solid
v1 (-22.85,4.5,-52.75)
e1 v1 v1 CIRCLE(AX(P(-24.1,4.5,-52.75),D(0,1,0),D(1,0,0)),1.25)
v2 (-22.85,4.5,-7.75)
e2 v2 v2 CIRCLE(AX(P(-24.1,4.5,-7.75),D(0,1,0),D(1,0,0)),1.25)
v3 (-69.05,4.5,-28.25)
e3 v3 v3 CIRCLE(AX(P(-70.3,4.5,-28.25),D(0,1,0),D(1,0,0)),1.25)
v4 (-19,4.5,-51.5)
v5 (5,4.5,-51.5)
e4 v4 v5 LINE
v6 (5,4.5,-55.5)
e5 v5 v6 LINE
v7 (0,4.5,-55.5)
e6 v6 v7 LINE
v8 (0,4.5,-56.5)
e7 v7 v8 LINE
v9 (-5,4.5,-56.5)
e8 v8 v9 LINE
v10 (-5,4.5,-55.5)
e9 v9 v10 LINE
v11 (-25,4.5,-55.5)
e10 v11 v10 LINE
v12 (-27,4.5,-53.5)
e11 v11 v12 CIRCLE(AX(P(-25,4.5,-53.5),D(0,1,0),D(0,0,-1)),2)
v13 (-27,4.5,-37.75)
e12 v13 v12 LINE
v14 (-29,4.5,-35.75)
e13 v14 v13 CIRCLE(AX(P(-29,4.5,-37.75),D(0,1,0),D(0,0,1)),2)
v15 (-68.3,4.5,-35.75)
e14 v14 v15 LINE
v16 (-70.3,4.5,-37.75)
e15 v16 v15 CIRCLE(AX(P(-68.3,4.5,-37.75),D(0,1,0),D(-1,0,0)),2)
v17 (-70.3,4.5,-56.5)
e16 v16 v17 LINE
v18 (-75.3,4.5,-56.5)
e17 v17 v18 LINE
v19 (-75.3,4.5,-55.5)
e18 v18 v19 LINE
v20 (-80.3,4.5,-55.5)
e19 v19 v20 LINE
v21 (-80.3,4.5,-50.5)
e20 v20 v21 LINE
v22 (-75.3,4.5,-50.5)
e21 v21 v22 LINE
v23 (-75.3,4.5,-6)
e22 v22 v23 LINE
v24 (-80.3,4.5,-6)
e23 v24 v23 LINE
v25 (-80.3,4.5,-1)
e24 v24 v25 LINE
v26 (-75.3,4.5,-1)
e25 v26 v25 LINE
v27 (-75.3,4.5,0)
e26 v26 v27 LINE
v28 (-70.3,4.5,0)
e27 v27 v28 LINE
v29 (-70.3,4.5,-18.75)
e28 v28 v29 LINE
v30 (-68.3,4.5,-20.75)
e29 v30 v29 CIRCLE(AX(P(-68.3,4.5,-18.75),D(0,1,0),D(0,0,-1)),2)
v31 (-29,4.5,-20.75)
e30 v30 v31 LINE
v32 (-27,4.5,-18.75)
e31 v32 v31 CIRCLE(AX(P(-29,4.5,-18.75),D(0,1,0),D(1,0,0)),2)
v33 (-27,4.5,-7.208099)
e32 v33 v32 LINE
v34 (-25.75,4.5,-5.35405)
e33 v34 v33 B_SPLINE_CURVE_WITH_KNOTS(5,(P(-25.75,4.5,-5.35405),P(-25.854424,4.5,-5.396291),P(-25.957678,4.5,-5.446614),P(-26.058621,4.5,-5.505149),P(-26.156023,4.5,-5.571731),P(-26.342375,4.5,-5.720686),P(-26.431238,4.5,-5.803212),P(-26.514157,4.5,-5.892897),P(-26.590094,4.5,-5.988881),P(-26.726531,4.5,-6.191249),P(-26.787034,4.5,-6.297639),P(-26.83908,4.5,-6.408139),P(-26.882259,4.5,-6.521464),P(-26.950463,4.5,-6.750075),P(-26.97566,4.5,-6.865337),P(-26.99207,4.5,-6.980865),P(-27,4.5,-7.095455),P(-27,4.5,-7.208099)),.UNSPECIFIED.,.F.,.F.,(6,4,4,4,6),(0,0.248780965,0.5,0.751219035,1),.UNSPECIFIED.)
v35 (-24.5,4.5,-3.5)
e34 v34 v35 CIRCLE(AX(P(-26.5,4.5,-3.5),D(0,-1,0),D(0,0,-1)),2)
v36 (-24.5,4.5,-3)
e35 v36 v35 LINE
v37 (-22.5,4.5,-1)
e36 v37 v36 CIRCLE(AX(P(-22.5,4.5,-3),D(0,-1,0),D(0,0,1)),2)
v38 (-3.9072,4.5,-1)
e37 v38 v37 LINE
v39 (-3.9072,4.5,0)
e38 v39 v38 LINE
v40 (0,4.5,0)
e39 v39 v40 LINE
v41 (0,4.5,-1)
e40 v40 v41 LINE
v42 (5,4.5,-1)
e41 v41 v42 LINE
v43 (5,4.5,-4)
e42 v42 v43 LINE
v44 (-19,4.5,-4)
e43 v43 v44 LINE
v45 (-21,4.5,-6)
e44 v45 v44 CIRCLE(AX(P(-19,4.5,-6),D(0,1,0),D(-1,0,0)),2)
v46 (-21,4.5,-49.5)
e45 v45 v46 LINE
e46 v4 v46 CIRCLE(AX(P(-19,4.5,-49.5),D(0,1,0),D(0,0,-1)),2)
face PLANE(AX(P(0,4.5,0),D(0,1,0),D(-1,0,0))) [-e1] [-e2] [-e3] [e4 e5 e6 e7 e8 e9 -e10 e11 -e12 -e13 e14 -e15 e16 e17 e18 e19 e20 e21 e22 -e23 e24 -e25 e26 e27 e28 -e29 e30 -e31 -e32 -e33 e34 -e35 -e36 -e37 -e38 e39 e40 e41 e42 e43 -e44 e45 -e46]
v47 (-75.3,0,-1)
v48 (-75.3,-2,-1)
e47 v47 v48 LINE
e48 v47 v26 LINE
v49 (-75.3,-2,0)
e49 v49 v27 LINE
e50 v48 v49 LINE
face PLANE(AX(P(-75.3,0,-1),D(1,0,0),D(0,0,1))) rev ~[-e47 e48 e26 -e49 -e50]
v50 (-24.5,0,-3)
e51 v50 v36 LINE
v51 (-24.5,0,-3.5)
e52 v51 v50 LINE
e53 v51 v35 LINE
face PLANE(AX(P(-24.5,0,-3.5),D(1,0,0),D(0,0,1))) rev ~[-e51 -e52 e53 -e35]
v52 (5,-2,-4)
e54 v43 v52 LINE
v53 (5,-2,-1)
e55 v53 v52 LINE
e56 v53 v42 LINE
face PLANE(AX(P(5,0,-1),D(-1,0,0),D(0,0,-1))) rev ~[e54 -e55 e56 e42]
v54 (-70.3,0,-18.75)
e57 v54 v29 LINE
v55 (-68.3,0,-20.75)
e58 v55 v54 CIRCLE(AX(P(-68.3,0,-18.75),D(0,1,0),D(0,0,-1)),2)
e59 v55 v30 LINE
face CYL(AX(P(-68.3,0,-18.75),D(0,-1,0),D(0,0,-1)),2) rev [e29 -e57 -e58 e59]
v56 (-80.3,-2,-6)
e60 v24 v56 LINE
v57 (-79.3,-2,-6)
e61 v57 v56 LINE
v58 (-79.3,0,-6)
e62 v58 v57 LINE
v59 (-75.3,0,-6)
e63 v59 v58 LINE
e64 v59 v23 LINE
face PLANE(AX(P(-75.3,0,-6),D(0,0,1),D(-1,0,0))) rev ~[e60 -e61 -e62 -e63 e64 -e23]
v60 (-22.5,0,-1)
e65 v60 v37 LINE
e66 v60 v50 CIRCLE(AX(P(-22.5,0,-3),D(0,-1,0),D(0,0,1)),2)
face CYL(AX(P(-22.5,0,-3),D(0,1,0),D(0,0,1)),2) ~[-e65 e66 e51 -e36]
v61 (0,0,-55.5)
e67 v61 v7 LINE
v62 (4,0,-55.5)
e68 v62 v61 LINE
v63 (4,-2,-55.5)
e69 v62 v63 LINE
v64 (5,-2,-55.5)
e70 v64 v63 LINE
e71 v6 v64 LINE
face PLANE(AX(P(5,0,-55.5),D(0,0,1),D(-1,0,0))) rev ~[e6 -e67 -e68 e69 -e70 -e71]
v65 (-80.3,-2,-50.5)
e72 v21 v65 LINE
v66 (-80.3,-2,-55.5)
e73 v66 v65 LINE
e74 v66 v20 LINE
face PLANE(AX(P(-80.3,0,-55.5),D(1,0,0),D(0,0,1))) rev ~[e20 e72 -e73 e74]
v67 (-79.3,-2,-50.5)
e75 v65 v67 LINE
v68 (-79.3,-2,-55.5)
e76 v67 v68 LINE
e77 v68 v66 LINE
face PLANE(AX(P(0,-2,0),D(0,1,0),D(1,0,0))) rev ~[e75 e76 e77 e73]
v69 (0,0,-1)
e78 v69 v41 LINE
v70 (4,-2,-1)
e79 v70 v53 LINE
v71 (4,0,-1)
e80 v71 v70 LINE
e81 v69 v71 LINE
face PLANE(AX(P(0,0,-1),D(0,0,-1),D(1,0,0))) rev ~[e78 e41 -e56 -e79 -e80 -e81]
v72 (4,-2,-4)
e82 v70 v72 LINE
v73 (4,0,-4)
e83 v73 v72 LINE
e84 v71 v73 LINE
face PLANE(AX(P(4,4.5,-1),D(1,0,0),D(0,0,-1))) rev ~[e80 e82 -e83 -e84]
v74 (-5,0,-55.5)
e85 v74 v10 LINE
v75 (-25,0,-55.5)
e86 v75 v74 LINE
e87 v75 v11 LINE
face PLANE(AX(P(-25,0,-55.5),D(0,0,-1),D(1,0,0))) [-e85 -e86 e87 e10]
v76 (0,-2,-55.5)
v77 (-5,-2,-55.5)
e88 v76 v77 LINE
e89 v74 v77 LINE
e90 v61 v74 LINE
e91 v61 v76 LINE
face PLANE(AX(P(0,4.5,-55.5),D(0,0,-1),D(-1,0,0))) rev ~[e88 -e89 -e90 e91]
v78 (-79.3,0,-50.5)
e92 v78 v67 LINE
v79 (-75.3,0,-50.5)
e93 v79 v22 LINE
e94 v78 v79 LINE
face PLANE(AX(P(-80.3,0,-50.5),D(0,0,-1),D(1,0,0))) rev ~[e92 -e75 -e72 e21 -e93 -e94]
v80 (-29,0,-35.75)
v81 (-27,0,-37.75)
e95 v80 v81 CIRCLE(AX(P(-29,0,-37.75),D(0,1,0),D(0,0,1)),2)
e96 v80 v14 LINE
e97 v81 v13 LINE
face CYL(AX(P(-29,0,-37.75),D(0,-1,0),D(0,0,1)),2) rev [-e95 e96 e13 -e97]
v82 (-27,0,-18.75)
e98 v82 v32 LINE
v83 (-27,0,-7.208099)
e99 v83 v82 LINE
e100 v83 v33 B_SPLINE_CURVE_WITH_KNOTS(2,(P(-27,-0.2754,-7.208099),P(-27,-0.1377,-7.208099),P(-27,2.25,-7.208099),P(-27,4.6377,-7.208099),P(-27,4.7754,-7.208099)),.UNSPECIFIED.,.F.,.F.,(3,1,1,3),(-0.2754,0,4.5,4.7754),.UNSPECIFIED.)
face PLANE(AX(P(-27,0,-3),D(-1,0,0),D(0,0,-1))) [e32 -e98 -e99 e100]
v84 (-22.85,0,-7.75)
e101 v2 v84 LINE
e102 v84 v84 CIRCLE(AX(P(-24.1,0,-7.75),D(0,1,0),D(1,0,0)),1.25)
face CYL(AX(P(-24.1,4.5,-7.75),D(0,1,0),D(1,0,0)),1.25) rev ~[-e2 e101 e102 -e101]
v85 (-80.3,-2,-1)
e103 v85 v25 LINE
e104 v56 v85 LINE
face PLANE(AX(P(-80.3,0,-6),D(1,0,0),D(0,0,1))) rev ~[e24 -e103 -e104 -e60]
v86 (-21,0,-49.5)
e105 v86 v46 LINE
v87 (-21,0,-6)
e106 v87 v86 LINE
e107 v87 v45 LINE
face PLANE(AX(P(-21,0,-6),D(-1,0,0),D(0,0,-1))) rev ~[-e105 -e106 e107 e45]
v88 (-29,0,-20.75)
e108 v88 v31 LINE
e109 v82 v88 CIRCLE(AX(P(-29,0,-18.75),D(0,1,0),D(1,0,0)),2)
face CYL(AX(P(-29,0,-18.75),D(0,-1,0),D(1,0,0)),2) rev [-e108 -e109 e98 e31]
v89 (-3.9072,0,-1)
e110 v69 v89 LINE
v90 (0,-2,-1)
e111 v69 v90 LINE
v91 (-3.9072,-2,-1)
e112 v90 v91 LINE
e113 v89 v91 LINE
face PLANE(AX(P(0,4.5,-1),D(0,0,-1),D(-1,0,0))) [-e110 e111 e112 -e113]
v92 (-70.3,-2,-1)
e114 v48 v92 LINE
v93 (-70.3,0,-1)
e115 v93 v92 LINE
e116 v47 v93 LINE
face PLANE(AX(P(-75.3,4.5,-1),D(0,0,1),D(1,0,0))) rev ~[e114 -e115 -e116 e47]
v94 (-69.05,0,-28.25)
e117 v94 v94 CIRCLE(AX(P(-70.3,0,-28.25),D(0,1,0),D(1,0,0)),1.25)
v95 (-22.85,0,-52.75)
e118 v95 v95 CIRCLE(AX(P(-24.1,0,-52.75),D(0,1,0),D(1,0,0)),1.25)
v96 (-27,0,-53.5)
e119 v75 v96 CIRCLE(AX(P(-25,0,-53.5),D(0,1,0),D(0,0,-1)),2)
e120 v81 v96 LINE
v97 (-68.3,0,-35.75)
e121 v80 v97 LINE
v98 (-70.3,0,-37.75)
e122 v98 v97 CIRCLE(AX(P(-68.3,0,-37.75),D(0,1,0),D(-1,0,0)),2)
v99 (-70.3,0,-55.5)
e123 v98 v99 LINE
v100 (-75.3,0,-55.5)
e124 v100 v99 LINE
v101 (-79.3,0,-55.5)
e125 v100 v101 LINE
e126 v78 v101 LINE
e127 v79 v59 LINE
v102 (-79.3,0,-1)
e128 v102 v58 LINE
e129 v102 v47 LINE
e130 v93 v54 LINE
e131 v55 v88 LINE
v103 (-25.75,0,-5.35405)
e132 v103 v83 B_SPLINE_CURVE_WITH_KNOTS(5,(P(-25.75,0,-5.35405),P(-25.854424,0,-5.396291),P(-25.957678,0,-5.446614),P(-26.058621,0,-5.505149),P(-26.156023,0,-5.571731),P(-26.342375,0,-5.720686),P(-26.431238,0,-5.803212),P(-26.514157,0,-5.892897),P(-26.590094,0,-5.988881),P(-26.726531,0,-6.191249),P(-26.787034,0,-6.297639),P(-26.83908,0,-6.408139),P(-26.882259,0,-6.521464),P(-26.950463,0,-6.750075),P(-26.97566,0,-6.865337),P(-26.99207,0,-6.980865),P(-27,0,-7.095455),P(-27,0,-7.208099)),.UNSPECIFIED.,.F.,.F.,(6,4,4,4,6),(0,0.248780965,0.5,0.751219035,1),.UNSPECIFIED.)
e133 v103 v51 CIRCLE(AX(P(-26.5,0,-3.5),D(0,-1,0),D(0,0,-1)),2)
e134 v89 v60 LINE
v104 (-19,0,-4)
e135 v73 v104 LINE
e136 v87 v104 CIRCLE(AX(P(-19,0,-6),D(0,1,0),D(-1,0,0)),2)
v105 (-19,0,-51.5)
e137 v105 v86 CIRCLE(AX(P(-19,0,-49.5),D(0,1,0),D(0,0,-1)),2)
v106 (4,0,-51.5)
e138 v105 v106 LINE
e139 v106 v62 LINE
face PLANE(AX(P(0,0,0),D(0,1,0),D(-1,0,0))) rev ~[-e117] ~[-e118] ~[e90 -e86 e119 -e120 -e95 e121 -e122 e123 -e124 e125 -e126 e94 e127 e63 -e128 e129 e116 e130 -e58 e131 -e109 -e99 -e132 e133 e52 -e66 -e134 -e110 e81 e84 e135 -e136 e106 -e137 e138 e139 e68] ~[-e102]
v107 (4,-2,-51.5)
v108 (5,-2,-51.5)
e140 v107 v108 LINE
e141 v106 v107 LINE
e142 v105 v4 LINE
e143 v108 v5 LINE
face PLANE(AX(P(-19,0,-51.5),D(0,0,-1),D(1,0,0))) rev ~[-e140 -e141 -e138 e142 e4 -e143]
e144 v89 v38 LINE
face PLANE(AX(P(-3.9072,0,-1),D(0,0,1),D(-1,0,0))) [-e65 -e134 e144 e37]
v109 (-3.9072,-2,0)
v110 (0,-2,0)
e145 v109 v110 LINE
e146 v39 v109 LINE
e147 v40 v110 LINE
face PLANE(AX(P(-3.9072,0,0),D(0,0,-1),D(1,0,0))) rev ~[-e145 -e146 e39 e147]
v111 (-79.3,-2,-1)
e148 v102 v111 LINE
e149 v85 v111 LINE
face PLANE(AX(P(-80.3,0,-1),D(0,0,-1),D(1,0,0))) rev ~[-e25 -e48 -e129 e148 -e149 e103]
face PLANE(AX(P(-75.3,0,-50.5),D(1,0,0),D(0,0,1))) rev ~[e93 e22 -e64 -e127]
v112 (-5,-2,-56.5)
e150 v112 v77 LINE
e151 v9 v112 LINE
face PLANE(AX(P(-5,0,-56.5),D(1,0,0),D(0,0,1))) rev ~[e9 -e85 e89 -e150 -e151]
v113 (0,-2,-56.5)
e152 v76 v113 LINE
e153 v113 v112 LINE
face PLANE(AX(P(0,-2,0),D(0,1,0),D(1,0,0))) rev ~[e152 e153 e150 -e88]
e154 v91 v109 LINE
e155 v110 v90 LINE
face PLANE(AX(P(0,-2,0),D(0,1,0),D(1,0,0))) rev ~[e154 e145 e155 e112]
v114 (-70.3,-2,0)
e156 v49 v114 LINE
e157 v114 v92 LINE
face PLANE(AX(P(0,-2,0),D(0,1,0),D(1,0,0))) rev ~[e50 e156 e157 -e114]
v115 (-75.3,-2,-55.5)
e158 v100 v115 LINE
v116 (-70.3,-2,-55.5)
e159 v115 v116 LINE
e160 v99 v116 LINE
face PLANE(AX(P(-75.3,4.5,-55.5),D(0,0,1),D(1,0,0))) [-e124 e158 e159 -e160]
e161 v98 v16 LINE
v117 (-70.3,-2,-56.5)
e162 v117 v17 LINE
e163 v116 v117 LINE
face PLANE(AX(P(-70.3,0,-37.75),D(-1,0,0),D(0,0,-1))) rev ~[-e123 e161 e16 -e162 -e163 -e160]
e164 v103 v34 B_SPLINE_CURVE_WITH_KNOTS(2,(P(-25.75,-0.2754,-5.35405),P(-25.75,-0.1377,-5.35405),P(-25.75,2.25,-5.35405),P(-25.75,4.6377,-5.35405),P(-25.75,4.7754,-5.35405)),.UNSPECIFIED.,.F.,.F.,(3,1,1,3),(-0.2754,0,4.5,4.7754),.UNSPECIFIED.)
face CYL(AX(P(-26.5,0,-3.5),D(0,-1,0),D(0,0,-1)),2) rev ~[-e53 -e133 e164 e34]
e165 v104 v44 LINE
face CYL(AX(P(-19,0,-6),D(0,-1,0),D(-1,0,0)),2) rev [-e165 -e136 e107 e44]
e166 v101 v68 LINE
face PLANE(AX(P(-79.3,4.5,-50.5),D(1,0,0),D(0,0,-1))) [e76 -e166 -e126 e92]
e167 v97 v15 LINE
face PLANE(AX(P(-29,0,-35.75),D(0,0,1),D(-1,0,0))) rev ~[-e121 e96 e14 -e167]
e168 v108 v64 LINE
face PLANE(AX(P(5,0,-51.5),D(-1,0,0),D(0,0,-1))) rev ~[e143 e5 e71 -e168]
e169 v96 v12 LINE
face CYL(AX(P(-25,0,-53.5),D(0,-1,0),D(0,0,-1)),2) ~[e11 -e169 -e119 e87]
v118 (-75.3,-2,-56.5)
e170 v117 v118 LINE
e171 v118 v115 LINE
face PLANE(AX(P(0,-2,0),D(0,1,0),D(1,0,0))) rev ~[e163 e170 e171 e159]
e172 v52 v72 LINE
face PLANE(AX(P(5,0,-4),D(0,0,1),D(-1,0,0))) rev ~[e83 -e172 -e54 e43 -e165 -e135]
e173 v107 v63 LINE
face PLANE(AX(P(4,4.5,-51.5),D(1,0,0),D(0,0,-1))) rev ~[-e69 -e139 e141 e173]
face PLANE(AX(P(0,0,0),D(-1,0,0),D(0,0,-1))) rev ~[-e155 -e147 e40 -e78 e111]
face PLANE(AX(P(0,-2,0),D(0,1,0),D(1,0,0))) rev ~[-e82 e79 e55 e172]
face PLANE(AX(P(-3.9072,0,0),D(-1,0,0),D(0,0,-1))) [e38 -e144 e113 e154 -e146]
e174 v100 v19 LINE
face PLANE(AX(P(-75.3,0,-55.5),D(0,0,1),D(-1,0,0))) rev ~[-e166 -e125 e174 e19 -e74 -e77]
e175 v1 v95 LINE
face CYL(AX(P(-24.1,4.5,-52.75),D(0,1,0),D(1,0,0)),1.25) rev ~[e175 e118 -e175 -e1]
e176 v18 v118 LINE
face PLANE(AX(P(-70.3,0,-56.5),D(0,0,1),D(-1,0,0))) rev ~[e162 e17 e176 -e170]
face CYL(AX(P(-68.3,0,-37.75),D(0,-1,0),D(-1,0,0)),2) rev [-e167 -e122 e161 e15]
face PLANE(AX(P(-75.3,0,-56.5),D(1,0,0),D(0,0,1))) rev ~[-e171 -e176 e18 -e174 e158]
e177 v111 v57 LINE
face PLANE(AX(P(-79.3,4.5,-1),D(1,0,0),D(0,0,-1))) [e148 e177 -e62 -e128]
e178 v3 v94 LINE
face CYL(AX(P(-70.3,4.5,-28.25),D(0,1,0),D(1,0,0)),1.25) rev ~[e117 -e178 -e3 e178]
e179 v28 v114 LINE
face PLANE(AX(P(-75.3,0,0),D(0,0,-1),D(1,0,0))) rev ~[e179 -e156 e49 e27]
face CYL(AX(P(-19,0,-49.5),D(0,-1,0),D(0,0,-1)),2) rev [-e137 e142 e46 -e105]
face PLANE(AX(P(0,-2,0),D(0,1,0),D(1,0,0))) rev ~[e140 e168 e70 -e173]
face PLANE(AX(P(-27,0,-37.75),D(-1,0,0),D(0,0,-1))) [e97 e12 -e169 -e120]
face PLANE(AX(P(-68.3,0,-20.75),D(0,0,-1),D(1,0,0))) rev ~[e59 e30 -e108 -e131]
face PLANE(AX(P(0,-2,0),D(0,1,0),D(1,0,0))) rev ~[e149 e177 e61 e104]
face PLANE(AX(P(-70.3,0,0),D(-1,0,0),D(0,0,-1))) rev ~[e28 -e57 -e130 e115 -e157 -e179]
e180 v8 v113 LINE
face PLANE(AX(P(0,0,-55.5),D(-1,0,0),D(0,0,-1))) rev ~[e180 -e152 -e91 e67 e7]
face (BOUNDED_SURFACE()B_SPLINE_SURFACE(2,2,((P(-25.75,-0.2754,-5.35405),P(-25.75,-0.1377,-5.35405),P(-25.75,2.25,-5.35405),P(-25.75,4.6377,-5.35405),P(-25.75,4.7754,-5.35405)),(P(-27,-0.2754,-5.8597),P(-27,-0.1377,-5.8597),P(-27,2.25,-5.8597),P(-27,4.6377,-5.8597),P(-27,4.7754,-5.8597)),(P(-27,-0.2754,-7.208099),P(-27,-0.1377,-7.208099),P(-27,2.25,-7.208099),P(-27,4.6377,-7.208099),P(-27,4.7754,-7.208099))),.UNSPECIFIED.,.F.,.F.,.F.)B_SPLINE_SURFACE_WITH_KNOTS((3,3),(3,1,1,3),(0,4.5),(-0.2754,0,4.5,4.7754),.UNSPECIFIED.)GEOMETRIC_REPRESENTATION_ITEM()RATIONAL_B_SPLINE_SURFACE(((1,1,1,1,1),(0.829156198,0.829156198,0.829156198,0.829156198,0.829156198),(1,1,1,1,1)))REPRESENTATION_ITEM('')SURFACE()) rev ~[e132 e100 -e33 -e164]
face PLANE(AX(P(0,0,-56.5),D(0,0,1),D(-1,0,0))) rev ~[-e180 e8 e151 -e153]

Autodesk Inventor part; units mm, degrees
ref_plane "YZ Plane" through (0, 0, 0) normal (1, 0, 0) x (0, 1, 0)
ref_plane "XZ Plane" through (0, 0, 0) normal (0, 1, 0) x (-1, 0, 0)
ref_plane "XY Plane" through (0, 0, 0) normal (0, 0, 1) x (1, 0, 0)
sketch "Sketch9" plane through (0, 0, 0) normal (0, 1, 0) x (-1, 0, 0)
  line L0 (80.3, -1) -> (75.3, -1)
  line L1 (75.3, -1) -> (75.3, 0)
  line L2 (75.3, 0) -> (70.3, 0)
  line L3 (70.3, 0) -> (70.3, -18.75)
  line L4 (68.3, -20.75) -> (29, -20.75)
  line L5 (0, 0) -> (0, -1)
  line L6 (0, -1) -> (-5, -1)
  line L7 (-5, -1) -> (-5, -4)
  line L8 (-5, -4) -> (19, -4)
  line L9 (21, -6) -> (21, -49.5)
  line L10 (19, -51.5) -> (-5, -51.5)
  line L11 (-5, -51.5) -> (-5, -55.5)
  line L12 (-5, -55.5) -> (0, -55.5)
  line L13 (29, -35.75) -> (68.3, -35.75)
  line L14 (70.3, -37.75) -> (70.3, -56.5)
  line L15 (70.3, -56.5) -> (75.3, -56.5)
  line L16 (75.3, -56.5) -> (75.3, -55.5)
  line L17 (75.3, -55.5) -> (80.3, -55.5)
  line L18 (80.3, -55.5) -> (80.3, -50.5)
  line L19 (80.3, -50.5) -> (75.3, -50.5)
  line L20 (75.3, -50.5) -> (75.3, -6)
  line L21 (75.3, -6) -> (80.3, -6)
  line L22 (80.3, -6) -> (80.3, -1)
  line L23 (27, -37.75) -> (27, -53.5)
  line L24 (25, -55.5) -> (5, -55.5)
  line L25 (0, -55.5) -> (0, -56.5)
  line L26 (0, -56.5) -> (5, -56.5)
  line L27 (5, -56.5) -> (5, -55.5)
  line L28 (3.9072, 0) -> (3.9072, -1)
  line L29 (3.9072, -1) -> (25, -1)
  line L30 (27, -3) -> (27, -18.75)
  line L31 (3.9072, 0) -> (0, 0)
  arc A0 (19, -51.5) -> (21, -49.5) centre (19, -49.5) ccw
  arc A1 (21, -6) -> (19, -4) centre (19, -6) ccw
  arc A2 (27, -3) -> (25, -1) centre (25, -3) ccw
  arc A3 (25, -55.5) -> (27, -53.5) centre (25, -53.5) ccw
  arc A4 (70.3, -37.75) -> (68.3, -35.75) centre (68.3, -37.75) ccw
  arc A5 (68.3, -20.75) -> (70.3, -18.75) centre (68.3, -18.75) ccw
  arc A6 (29, -35.75) -> (27, -37.75) centre (29, -37.75) ccw
  arc A7 (27, -18.75) -> (29, -20.75) centre (29, -18.75) ccw
  point P0 (70.3, -20.75)
  point P1 (27, -20.75)
  point P2 (21, -4)
  point P3 (21, -51.5)
  point P4 (27, -35.75)
  point P5 (70.3, -35.75)
  point P6 (27, -55.5)
  point P7 (27, -1)
  dimension "d42" = 85.3
  dimension "d45" = 15
  dimension "d46" = 5
  dimension "d47" = 5
  dimension "d48" = 5
  dimension "d50" = 1
  dimension "d60" = 4
  dimension "d62" = 26
  dimension "d64" = 1
  dimension "d65" = 5
  dimension "d66" = 5
  dimension "d67" = 6
  dimension "d68" = 3
  dimension "d69" = 56.5
  dimension "d70" = 5
  dimension "d90" = 2
  dimension "d91" = 2
  dimension "d92" = 2
extrude "Extrusion9" add sketch "Sketch9" along normal blind 4.5
sketch "Sketch10" plane through (0, 4.5, 0) normal (0, 1, 0) x (1, 0, 0)
  line L0 (-19, 51.5) -> (5, 51.5) projected
  line L1 (0, 0) -> (0, 1) projected
  line L2 (0, 55.5) -> (0, 56.5) projected
  line L3 (5, 55.5) -> (0, 55.5) projected
  line L4 (5, 51.5) -> (5, 55.5) projected
  line L5 (-70.3, 37.75) -> (-70.3, 56.5) projected
  line L6 (-70.3, 56.5) -> (-75.3, 56.5) projected
  line L7 (-75.3, 56.5) -> (-75.3, 55.5) projected
  line L8 (-75.3, 55.5) -> (-80.3, 55.5) projected
  line L9 (-80.3, 55.5) -> (-80.3, 50.5) projected
  line L10 (-80.3, 50.5) -> (-75.3, 50.5) projected
  line L11 (-75.3, 50.5) -> (-75.3, 6) projected
  line L12 (-75.3, 6) -> (-80.3, 6) projected
  line L13 (-80.3, 6) -> (-80.3, 1) projected
  line L14 (-80.3, 1) -> (-75.3, 1) projected
  line L15 (-75.3, 1) -> (-75.3, 0) projected
  line L16 (-75.3, 0) -> (-70.3, 0) projected
  line L17 (-70.3, 0) -> (-70.3, 18.75) projected
  line L18 (-68.3, 20.75) -> (-29, 20.75) projected
  line L19 (-27, 18.75) -> (-27, 3) projected
  line L20 (-25, 1) -> (-3.9072, 1) projected
  line L21 (-3.9072, 1) -> (-3.9072, 0) projected
  line L22 (-3.9072, 0) -> (0, 0) projected
  line L23 (0, 0) -> (0, 1) projected
  line L24 (0, 1) -> (5, 1) projected
  line L25 (5, 1) -> (5, 4) projected
  line L26 (5, 4) -> (-19, 4) projected
  line L27 (-21, 6) -> (-21, 49.5) projected
  line L28 (-19, 51.5) -> (5, 51.5) projected
  line L29 (5, 51.5) -> (5, 55.5) projected
  line L30 (5, 55.5) -> (0, 55.5) projected
  line L31 (0, 55.5) -> (0, 56.5) projected
  line L32 (0, 56.5) -> (-5, 56.5) projected
  line L33 (-5, 56.5) -> (-5, 55.5) projected
  line L34 (-5, 55.5) -> (-25, 55.5) projected
  line L35 (-27, 53.5) -> (-27, 37.75) projected
  line L36 (-29, 35.75) -> (-68.3, 35.75) projected
  line L37 (-27, 1) -> (-3.9072, 1) projected
  line L38 (0, 1) -> (-3.9072, 1)
  line L39 (0, 1) -> (5, 1) projected
  line L40 (4, 1) -> (4, 4)
  line L41 (5, 4) -> (-21, 4) projected
  line L42 (4, 51.5) -> (4, 55.5)
  line L43 (-5, 55.5) -> (-27, 55.5) projected
  line L44 (0, 55.5) -> (-5, 55.5)
  line L45 (-75.3, 55.5) -> (-80.3, 55.5) projected
  line L46 (-75.3, 55.5) -> (-70.3, 55.5)
  line L47 (-80.3, 1) -> (-75.3, 1) projected
  line L48 (-79.3, 1) -> (-79.3, 6)
  line L49 (-75.3, 1) -> (-70.3, 1)
  line L50 (-70.3, 0) -> (-70.3, 20.75) projected
  line L51 (-80.3, 50.5) -> (-75.3, 50.5) projected
  line L52 (-79.3, 50.5) -> (-79.3, 55.5)
  arc A0 (-68.3, 20.75) -> (-70.3, 18.75) centre (-68.3, 18.75) ccw projected
  arc A1 (-27, 18.75) -> (-29, 20.75) centre (-29, 18.75) ccw projected
  arc A2 (-27, 3) -> (-25, 1) centre (-25, 3) ccw projected
  arc A3 (-21, 6) -> (-19, 4) centre (-19, 6) ccw projected
  arc A4 (-19, 51.5) -> (-21, 49.5) centre (-19, 49.5) ccw projected
  arc A5 (-25, 55.5) -> (-27, 53.5) centre (-25, 53.5) ccw projected
  arc A6 (-29, 35.75) -> (-27, 37.75) centre (-29, 37.75) ccw projected
  arc A7 (-70.3, 37.75) -> (-68.3, 35.75) centre (-68.3, 37.75) ccw projected
  point P0 (-75.3, 1)
  dimension "d71" = 1
  dimension "d72" = 1
  dimension "d73" = 1
  dimension "d74" = 1
extrude "Extrusion10" add sketch "Sketch10" against normal blind 6.5 contours L42 L3 L4 L0 | L44 L33 L32 L2 | L26 L25 L24 L40 | L1 L22 L21 L38 | L46 L7 L6 L5 | L52 L10 L9 L8 | L17 L16 L15 L49 | L14 L13 L12 L48
sketch "Sketch11" plane through (0, 4.5, 0) normal (0, 1, 0) x (1, 0, 0)
  line L0 (5, 4) -> (-19, 4) projected
  line L1 (-21, 6) -> (-21, 49.5) projected
  line L2 (-19, 51.5) -> (5, 51.5) projected
  line L3 (5, 51.5) -> (5, 55.5) projected
  line L4 (5, 55.5) -> (0, 55.5) projected
  line L5 (0, 55.5) -> (0, 56.5) projected
  line L6 (0, 56.5) -> (-5, 56.5) projected
  line L7 (-5, 56.5) -> (-5, 55.5) projected
  line L8 (-5, 55.5) -> (-25, 55.5) projected
  line L9 (-27, 53.5) -> (-27, 37.75) projected
  line L10 (-29, 35.75) -> (-68.3, 35.75) projected
  line L11 (-70.3, 37.75) -> (-70.3, 56.5) projected
  line L12 (-70.3, 56.5) -> (-75.3, 56.5) projected
  line L13 (-75.3, 56.5) -> (-75.3, 55.5) projected
  line L14 (-75.3, 55.5) -> (-80.3, 55.5) projected
  line L15 (-80.3, 55.5) -> (-80.3, 50.5) projected
  line L16 (-80.3, 50.5) -> (-75.3, 50.5) projected
  line L17 (-75.3, 50.5) -> (-75.3, 6) projected
  line L18 (-75.3, 6) -> (-80.3, 6) projected
  line L19 (-80.3, 6) -> (-80.3, 1) projected
  line L20 (-80.3, 1) -> (-75.3, 1) projected
  line L21 (-75.3, 1) -> (-75.3, 0) projected
  line L22 (-75.3, 0) -> (-70.3, 0) projected
  line L23 (-70.3, 0) -> (-70.3, 18.75) projected
  line L24 (-68.3, 20.75) -> (-29, 20.75) projected
  line L25 (-27, 18.75) -> (-27, 3) projected
  line L26 (-25, 1) -> (-3.9072, 1) projected
  line L27 (-3.9072, 1) -> (-3.9072, 0) projected
  line L28 (-3.9072, 0) -> (0, 0) projected
  line L29 (0, 0) -> (0, 1) projected
  line L30 (0, 1) -> (5, 1) projected
  line L31 (5, 1) -> (5, 4) projected
  circle A0 centre (-70.3, 28.25) radius 1.25
  line L32 (-21, 4) -> (-21, 49.5) projected
  line L33 (-75.3, 50.5) -> (-75.3, 6) projected
  arc A1 (-21, 6) -> (-19, 4) centre (-19, 6) ccw projected
  arc A2 (-19, 51.5) -> (-21, 49.5) centre (-19, 49.5) ccw projected
  arc A3 (-25, 55.5) -> (-27, 53.5) centre (-25, 53.5) ccw projected
  arc A4 (-29, 35.75) -> (-27, 37.75) centre (-29, 37.75) ccw projected
  arc A5 (-70.3, 37.75) -> (-68.3, 35.75) centre (-68.3, 37.75) ccw projected
  arc A6 (-68.3, 20.75) -> (-70.3, 18.75) centre (-68.3, 18.75) ccw projected
  arc A7 (-27, 18.75) -> (-29, 20.75) centre (-29, 18.75) ccw projected
  arc A8 (-27, 3) -> (-25, 1) centre (-25, 3) ccw projected
  circle A9 centre (-24.1, 7.75) radius 1.25
  circle A10 centre (-24.1, 52.75) radius 1.25
  line L34 (4, 4) -> (4, 1) projected
  line L35 (0, 1) -> (4, 1) projected
  line L36 (0, 1) -> (-3.9072, 1) projected
  line L37 (-25, 1) -> (-3.9072, 1) projected
  arc A11 (-27, 3) -> (-25, 1) centre (-25, 3) ccw projected
  line L38 (-27, 18.75) -> (-27, 3) projected
  arc A12 (-27, 18.75) -> (-29, 20.75) centre (-29, 18.75) ccw projected
  line L39 (-68.3, 20.75) -> (-29, 20.75) projected
  arc A13 (-68.3, 20.75) -> (-70.3, 18.75) centre (-68.3, 18.75) ccw projected
  line L40 (-70.3, 1) -> (-70.3, 18.75) projected
  line L41 (-70.3, 1) -> (-75.3, 1) projected
  line L42 (-79.3, 1) -> (-75.3, 1) projected
  line L43 (-79.3, 1) -> (-79.3, 6) projected
  line L44 (-75.3, 6) -> (-79.3, 6) projected
  line L45 (-75.3, 50.5) -> (-75.3, 6) projected
  line L46 (-79.3, 50.5) -> (-75.3, 50.5) projected
  line L47 (-79.3, 50.5) -> (-79.3, 55.5) projected
  line L48 (-75.3, 55.5) -> (-79.3, 55.5) projected
  line L49 (-75.3, 55.5) -> (-70.3, 55.5) projected
  line L50 (-70.3, 37.75) -> (-70.3, 55.5) projected
  arc A14 (-70.3, 37.75) -> (-68.3, 35.75) centre (-68.3, 37.75) ccw projected
  line L51 (-29, 35.75) -> (-68.3, 35.75) projected
  arc A15 (-29, 35.75) -> (-27, 37.75) centre (-29, 37.75) ccw projected
  line L52 (-27, 53.5) -> (-27, 37.75) projected
  arc A16 (-25, 55.5) -> (-27, 53.5) centre (-25, 53.5) ccw projected
  line L53 (-5, 55.5) -> (-25, 55.5) projected
  line L54 (-5, 55.5) -> (0, 55.5) projected
  line L55 (4, 55.5) -> (0, 55.5) projected
  line L56 (4, 55.5) -> (4, 51.5) projected
  line L57 (-19, 51.5) -> (4, 51.5) projected
  arc A17 (-19, 51.5) -> (-21, 49.5) centre (-19, 49.5) ccw projected
  line L58 (-21, 6) -> (-21, 49.5) projected
  arc A18 (-21, 6) -> (-19, 4) centre (-19, 6) ccw projected
  line L59 (4, 4) -> (-19, 4) projected
  dimension "d76" = 2.5
  dimension "d93" = 2.5
  dimension "d94" = 2.5
  dimension "d96" = 56.2
  dimension "d97" = 56.2
  dimension "d100" = 7.5
  dimension "d101" = 17
  dimension "d102" = 13
extrude "Extrusion11" cut sketch "Sketch11" against normal through all contours A0 | A9 | A10
sketch "Sketch14" plane through (0, 0, 0) normal (0, -1, 0) x (1, 0, 0)
  circle A0 centre (-70.3, -28.25) radius 1.25 projected
  circle A1 centre (-24.1, -52.75) radius 1.25 projected
  circle A2 centre (-24.1, -7.75) radius 1.25 projected
  line L0 (4, -4) -> (4, -1) projected
  line L1 (0, -1) -> (4, -1) projected
  line L2 (0, -1) -> (-3.9072, -1) projected
  line L3 (-25, -1) -> (-3.9072, -1) projected
  arc A3 (-25, -1) -> (-27, -3) centre (-25, -3) ccw projected
  line L4 (-27, -18.75) -> (-27, -3) projected
  arc A4 (-29, -20.75) -> (-27, -18.75) centre (-29, -18.75) ccw projected
  line L5 (-68.3, -20.75) -> (-29, -20.75) projected
  arc A5 (-70.3, -18.75) -> (-68.3, -20.75) centre (-68.3, -18.75) ccw projected
  line L6 (-70.3, -1) -> (-70.3, -18.75) projected
  line L7 (-70.3, -1) -> (-75.3, -1) projected
  line L8 (-79.3, -1) -> (-75.3, -1) projected
  line L9 (-79.3, -1) -> (-79.3, -6) projected
  line L10 (-75.3, -6) -> (-79.3, -6) projected
  line L11 (-75.3, -50.5) -> (-75.3, -6) projected
  line L12 (-79.3, -50.5) -> (-75.3, -50.5) projected
  line L13 (-79.3, -50.5) -> (-79.3, -55.5) projected
  line L14 (-75.3, -55.5) -> (-79.3, -55.5) projected
  line L15 (-75.3, -55.5) -> (-70.3, -55.5) projected
  line L16 (-70.3, -37.75) -> (-70.3, -55.5) projected
  arc A6 (-68.3, -35.75) -> (-70.3, -37.75) centre (-68.3, -37.75) ccw projected
  line L17 (-29, -35.75) -> (-68.3, -35.75) projected
  arc A7 (-27, -37.75) -> (-29, -35.75) centre (-29, -37.75) ccw projected
  line L18 (-27, -53.5) -> (-27, -37.75) projected
  arc A8 (-27, -53.5) -> (-25, -55.5) centre (-25, -53.5) ccw projected
  line L19 (-5, -55.5) -> (-25, -55.5) projected
  line L20 (-5, -55.5) -> (0, -55.5) projected
  line L21 (4, -55.5) -> (0, -55.5) projected
  line L22 (4, -55.5) -> (4, -51.5) projected
  line L23 (-19, -51.5) -> (4, -51.5) projected
  arc A9 (-21, -49.5) -> (-19, -51.5) centre (-19, -49.5) ccw projected
  line L24 (-21, -6) -> (-21, -49.5) projected
  arc A10 (-19, -4) -> (-21, -6) centre (-19, -6) ccw projected
  line L25 (4, -4) -> (-19, -4) projected
  line L26 (-27, -18.75) -> (-27, -3) projected
  line L27 (-25, -1) -> (-3.9072, -1) projected
  line L28 (-27, -5.5) -> (-26.5, -5.5)
  line L29 (-24.5, -3.5) -> (-24.5, -1)
  line L30 (-24.5, -1) -> (-27, -1)
  line L31 (-27, -1) -> (-27, -5.5)
  arc A11 (-26.5, -5.5) -> (-24.5, -3.5) centre (-26.5, -3.5) ccw
  point P0 (0, 0)
  dimension "d103" = 2
  dimension "d104" = 4.5
  dimension "d105" = 2.5
extrude "Extrusion14" cut sketch "Sketch14" against normal through all contours L29 A11 L28 L4 A3 L3
fillet "Fillet1" radius 2 2 edges at (-27, 2.25, -5.5) (-24.5, 2.25, -1)
properties part number "display_holder_3DPrint"
